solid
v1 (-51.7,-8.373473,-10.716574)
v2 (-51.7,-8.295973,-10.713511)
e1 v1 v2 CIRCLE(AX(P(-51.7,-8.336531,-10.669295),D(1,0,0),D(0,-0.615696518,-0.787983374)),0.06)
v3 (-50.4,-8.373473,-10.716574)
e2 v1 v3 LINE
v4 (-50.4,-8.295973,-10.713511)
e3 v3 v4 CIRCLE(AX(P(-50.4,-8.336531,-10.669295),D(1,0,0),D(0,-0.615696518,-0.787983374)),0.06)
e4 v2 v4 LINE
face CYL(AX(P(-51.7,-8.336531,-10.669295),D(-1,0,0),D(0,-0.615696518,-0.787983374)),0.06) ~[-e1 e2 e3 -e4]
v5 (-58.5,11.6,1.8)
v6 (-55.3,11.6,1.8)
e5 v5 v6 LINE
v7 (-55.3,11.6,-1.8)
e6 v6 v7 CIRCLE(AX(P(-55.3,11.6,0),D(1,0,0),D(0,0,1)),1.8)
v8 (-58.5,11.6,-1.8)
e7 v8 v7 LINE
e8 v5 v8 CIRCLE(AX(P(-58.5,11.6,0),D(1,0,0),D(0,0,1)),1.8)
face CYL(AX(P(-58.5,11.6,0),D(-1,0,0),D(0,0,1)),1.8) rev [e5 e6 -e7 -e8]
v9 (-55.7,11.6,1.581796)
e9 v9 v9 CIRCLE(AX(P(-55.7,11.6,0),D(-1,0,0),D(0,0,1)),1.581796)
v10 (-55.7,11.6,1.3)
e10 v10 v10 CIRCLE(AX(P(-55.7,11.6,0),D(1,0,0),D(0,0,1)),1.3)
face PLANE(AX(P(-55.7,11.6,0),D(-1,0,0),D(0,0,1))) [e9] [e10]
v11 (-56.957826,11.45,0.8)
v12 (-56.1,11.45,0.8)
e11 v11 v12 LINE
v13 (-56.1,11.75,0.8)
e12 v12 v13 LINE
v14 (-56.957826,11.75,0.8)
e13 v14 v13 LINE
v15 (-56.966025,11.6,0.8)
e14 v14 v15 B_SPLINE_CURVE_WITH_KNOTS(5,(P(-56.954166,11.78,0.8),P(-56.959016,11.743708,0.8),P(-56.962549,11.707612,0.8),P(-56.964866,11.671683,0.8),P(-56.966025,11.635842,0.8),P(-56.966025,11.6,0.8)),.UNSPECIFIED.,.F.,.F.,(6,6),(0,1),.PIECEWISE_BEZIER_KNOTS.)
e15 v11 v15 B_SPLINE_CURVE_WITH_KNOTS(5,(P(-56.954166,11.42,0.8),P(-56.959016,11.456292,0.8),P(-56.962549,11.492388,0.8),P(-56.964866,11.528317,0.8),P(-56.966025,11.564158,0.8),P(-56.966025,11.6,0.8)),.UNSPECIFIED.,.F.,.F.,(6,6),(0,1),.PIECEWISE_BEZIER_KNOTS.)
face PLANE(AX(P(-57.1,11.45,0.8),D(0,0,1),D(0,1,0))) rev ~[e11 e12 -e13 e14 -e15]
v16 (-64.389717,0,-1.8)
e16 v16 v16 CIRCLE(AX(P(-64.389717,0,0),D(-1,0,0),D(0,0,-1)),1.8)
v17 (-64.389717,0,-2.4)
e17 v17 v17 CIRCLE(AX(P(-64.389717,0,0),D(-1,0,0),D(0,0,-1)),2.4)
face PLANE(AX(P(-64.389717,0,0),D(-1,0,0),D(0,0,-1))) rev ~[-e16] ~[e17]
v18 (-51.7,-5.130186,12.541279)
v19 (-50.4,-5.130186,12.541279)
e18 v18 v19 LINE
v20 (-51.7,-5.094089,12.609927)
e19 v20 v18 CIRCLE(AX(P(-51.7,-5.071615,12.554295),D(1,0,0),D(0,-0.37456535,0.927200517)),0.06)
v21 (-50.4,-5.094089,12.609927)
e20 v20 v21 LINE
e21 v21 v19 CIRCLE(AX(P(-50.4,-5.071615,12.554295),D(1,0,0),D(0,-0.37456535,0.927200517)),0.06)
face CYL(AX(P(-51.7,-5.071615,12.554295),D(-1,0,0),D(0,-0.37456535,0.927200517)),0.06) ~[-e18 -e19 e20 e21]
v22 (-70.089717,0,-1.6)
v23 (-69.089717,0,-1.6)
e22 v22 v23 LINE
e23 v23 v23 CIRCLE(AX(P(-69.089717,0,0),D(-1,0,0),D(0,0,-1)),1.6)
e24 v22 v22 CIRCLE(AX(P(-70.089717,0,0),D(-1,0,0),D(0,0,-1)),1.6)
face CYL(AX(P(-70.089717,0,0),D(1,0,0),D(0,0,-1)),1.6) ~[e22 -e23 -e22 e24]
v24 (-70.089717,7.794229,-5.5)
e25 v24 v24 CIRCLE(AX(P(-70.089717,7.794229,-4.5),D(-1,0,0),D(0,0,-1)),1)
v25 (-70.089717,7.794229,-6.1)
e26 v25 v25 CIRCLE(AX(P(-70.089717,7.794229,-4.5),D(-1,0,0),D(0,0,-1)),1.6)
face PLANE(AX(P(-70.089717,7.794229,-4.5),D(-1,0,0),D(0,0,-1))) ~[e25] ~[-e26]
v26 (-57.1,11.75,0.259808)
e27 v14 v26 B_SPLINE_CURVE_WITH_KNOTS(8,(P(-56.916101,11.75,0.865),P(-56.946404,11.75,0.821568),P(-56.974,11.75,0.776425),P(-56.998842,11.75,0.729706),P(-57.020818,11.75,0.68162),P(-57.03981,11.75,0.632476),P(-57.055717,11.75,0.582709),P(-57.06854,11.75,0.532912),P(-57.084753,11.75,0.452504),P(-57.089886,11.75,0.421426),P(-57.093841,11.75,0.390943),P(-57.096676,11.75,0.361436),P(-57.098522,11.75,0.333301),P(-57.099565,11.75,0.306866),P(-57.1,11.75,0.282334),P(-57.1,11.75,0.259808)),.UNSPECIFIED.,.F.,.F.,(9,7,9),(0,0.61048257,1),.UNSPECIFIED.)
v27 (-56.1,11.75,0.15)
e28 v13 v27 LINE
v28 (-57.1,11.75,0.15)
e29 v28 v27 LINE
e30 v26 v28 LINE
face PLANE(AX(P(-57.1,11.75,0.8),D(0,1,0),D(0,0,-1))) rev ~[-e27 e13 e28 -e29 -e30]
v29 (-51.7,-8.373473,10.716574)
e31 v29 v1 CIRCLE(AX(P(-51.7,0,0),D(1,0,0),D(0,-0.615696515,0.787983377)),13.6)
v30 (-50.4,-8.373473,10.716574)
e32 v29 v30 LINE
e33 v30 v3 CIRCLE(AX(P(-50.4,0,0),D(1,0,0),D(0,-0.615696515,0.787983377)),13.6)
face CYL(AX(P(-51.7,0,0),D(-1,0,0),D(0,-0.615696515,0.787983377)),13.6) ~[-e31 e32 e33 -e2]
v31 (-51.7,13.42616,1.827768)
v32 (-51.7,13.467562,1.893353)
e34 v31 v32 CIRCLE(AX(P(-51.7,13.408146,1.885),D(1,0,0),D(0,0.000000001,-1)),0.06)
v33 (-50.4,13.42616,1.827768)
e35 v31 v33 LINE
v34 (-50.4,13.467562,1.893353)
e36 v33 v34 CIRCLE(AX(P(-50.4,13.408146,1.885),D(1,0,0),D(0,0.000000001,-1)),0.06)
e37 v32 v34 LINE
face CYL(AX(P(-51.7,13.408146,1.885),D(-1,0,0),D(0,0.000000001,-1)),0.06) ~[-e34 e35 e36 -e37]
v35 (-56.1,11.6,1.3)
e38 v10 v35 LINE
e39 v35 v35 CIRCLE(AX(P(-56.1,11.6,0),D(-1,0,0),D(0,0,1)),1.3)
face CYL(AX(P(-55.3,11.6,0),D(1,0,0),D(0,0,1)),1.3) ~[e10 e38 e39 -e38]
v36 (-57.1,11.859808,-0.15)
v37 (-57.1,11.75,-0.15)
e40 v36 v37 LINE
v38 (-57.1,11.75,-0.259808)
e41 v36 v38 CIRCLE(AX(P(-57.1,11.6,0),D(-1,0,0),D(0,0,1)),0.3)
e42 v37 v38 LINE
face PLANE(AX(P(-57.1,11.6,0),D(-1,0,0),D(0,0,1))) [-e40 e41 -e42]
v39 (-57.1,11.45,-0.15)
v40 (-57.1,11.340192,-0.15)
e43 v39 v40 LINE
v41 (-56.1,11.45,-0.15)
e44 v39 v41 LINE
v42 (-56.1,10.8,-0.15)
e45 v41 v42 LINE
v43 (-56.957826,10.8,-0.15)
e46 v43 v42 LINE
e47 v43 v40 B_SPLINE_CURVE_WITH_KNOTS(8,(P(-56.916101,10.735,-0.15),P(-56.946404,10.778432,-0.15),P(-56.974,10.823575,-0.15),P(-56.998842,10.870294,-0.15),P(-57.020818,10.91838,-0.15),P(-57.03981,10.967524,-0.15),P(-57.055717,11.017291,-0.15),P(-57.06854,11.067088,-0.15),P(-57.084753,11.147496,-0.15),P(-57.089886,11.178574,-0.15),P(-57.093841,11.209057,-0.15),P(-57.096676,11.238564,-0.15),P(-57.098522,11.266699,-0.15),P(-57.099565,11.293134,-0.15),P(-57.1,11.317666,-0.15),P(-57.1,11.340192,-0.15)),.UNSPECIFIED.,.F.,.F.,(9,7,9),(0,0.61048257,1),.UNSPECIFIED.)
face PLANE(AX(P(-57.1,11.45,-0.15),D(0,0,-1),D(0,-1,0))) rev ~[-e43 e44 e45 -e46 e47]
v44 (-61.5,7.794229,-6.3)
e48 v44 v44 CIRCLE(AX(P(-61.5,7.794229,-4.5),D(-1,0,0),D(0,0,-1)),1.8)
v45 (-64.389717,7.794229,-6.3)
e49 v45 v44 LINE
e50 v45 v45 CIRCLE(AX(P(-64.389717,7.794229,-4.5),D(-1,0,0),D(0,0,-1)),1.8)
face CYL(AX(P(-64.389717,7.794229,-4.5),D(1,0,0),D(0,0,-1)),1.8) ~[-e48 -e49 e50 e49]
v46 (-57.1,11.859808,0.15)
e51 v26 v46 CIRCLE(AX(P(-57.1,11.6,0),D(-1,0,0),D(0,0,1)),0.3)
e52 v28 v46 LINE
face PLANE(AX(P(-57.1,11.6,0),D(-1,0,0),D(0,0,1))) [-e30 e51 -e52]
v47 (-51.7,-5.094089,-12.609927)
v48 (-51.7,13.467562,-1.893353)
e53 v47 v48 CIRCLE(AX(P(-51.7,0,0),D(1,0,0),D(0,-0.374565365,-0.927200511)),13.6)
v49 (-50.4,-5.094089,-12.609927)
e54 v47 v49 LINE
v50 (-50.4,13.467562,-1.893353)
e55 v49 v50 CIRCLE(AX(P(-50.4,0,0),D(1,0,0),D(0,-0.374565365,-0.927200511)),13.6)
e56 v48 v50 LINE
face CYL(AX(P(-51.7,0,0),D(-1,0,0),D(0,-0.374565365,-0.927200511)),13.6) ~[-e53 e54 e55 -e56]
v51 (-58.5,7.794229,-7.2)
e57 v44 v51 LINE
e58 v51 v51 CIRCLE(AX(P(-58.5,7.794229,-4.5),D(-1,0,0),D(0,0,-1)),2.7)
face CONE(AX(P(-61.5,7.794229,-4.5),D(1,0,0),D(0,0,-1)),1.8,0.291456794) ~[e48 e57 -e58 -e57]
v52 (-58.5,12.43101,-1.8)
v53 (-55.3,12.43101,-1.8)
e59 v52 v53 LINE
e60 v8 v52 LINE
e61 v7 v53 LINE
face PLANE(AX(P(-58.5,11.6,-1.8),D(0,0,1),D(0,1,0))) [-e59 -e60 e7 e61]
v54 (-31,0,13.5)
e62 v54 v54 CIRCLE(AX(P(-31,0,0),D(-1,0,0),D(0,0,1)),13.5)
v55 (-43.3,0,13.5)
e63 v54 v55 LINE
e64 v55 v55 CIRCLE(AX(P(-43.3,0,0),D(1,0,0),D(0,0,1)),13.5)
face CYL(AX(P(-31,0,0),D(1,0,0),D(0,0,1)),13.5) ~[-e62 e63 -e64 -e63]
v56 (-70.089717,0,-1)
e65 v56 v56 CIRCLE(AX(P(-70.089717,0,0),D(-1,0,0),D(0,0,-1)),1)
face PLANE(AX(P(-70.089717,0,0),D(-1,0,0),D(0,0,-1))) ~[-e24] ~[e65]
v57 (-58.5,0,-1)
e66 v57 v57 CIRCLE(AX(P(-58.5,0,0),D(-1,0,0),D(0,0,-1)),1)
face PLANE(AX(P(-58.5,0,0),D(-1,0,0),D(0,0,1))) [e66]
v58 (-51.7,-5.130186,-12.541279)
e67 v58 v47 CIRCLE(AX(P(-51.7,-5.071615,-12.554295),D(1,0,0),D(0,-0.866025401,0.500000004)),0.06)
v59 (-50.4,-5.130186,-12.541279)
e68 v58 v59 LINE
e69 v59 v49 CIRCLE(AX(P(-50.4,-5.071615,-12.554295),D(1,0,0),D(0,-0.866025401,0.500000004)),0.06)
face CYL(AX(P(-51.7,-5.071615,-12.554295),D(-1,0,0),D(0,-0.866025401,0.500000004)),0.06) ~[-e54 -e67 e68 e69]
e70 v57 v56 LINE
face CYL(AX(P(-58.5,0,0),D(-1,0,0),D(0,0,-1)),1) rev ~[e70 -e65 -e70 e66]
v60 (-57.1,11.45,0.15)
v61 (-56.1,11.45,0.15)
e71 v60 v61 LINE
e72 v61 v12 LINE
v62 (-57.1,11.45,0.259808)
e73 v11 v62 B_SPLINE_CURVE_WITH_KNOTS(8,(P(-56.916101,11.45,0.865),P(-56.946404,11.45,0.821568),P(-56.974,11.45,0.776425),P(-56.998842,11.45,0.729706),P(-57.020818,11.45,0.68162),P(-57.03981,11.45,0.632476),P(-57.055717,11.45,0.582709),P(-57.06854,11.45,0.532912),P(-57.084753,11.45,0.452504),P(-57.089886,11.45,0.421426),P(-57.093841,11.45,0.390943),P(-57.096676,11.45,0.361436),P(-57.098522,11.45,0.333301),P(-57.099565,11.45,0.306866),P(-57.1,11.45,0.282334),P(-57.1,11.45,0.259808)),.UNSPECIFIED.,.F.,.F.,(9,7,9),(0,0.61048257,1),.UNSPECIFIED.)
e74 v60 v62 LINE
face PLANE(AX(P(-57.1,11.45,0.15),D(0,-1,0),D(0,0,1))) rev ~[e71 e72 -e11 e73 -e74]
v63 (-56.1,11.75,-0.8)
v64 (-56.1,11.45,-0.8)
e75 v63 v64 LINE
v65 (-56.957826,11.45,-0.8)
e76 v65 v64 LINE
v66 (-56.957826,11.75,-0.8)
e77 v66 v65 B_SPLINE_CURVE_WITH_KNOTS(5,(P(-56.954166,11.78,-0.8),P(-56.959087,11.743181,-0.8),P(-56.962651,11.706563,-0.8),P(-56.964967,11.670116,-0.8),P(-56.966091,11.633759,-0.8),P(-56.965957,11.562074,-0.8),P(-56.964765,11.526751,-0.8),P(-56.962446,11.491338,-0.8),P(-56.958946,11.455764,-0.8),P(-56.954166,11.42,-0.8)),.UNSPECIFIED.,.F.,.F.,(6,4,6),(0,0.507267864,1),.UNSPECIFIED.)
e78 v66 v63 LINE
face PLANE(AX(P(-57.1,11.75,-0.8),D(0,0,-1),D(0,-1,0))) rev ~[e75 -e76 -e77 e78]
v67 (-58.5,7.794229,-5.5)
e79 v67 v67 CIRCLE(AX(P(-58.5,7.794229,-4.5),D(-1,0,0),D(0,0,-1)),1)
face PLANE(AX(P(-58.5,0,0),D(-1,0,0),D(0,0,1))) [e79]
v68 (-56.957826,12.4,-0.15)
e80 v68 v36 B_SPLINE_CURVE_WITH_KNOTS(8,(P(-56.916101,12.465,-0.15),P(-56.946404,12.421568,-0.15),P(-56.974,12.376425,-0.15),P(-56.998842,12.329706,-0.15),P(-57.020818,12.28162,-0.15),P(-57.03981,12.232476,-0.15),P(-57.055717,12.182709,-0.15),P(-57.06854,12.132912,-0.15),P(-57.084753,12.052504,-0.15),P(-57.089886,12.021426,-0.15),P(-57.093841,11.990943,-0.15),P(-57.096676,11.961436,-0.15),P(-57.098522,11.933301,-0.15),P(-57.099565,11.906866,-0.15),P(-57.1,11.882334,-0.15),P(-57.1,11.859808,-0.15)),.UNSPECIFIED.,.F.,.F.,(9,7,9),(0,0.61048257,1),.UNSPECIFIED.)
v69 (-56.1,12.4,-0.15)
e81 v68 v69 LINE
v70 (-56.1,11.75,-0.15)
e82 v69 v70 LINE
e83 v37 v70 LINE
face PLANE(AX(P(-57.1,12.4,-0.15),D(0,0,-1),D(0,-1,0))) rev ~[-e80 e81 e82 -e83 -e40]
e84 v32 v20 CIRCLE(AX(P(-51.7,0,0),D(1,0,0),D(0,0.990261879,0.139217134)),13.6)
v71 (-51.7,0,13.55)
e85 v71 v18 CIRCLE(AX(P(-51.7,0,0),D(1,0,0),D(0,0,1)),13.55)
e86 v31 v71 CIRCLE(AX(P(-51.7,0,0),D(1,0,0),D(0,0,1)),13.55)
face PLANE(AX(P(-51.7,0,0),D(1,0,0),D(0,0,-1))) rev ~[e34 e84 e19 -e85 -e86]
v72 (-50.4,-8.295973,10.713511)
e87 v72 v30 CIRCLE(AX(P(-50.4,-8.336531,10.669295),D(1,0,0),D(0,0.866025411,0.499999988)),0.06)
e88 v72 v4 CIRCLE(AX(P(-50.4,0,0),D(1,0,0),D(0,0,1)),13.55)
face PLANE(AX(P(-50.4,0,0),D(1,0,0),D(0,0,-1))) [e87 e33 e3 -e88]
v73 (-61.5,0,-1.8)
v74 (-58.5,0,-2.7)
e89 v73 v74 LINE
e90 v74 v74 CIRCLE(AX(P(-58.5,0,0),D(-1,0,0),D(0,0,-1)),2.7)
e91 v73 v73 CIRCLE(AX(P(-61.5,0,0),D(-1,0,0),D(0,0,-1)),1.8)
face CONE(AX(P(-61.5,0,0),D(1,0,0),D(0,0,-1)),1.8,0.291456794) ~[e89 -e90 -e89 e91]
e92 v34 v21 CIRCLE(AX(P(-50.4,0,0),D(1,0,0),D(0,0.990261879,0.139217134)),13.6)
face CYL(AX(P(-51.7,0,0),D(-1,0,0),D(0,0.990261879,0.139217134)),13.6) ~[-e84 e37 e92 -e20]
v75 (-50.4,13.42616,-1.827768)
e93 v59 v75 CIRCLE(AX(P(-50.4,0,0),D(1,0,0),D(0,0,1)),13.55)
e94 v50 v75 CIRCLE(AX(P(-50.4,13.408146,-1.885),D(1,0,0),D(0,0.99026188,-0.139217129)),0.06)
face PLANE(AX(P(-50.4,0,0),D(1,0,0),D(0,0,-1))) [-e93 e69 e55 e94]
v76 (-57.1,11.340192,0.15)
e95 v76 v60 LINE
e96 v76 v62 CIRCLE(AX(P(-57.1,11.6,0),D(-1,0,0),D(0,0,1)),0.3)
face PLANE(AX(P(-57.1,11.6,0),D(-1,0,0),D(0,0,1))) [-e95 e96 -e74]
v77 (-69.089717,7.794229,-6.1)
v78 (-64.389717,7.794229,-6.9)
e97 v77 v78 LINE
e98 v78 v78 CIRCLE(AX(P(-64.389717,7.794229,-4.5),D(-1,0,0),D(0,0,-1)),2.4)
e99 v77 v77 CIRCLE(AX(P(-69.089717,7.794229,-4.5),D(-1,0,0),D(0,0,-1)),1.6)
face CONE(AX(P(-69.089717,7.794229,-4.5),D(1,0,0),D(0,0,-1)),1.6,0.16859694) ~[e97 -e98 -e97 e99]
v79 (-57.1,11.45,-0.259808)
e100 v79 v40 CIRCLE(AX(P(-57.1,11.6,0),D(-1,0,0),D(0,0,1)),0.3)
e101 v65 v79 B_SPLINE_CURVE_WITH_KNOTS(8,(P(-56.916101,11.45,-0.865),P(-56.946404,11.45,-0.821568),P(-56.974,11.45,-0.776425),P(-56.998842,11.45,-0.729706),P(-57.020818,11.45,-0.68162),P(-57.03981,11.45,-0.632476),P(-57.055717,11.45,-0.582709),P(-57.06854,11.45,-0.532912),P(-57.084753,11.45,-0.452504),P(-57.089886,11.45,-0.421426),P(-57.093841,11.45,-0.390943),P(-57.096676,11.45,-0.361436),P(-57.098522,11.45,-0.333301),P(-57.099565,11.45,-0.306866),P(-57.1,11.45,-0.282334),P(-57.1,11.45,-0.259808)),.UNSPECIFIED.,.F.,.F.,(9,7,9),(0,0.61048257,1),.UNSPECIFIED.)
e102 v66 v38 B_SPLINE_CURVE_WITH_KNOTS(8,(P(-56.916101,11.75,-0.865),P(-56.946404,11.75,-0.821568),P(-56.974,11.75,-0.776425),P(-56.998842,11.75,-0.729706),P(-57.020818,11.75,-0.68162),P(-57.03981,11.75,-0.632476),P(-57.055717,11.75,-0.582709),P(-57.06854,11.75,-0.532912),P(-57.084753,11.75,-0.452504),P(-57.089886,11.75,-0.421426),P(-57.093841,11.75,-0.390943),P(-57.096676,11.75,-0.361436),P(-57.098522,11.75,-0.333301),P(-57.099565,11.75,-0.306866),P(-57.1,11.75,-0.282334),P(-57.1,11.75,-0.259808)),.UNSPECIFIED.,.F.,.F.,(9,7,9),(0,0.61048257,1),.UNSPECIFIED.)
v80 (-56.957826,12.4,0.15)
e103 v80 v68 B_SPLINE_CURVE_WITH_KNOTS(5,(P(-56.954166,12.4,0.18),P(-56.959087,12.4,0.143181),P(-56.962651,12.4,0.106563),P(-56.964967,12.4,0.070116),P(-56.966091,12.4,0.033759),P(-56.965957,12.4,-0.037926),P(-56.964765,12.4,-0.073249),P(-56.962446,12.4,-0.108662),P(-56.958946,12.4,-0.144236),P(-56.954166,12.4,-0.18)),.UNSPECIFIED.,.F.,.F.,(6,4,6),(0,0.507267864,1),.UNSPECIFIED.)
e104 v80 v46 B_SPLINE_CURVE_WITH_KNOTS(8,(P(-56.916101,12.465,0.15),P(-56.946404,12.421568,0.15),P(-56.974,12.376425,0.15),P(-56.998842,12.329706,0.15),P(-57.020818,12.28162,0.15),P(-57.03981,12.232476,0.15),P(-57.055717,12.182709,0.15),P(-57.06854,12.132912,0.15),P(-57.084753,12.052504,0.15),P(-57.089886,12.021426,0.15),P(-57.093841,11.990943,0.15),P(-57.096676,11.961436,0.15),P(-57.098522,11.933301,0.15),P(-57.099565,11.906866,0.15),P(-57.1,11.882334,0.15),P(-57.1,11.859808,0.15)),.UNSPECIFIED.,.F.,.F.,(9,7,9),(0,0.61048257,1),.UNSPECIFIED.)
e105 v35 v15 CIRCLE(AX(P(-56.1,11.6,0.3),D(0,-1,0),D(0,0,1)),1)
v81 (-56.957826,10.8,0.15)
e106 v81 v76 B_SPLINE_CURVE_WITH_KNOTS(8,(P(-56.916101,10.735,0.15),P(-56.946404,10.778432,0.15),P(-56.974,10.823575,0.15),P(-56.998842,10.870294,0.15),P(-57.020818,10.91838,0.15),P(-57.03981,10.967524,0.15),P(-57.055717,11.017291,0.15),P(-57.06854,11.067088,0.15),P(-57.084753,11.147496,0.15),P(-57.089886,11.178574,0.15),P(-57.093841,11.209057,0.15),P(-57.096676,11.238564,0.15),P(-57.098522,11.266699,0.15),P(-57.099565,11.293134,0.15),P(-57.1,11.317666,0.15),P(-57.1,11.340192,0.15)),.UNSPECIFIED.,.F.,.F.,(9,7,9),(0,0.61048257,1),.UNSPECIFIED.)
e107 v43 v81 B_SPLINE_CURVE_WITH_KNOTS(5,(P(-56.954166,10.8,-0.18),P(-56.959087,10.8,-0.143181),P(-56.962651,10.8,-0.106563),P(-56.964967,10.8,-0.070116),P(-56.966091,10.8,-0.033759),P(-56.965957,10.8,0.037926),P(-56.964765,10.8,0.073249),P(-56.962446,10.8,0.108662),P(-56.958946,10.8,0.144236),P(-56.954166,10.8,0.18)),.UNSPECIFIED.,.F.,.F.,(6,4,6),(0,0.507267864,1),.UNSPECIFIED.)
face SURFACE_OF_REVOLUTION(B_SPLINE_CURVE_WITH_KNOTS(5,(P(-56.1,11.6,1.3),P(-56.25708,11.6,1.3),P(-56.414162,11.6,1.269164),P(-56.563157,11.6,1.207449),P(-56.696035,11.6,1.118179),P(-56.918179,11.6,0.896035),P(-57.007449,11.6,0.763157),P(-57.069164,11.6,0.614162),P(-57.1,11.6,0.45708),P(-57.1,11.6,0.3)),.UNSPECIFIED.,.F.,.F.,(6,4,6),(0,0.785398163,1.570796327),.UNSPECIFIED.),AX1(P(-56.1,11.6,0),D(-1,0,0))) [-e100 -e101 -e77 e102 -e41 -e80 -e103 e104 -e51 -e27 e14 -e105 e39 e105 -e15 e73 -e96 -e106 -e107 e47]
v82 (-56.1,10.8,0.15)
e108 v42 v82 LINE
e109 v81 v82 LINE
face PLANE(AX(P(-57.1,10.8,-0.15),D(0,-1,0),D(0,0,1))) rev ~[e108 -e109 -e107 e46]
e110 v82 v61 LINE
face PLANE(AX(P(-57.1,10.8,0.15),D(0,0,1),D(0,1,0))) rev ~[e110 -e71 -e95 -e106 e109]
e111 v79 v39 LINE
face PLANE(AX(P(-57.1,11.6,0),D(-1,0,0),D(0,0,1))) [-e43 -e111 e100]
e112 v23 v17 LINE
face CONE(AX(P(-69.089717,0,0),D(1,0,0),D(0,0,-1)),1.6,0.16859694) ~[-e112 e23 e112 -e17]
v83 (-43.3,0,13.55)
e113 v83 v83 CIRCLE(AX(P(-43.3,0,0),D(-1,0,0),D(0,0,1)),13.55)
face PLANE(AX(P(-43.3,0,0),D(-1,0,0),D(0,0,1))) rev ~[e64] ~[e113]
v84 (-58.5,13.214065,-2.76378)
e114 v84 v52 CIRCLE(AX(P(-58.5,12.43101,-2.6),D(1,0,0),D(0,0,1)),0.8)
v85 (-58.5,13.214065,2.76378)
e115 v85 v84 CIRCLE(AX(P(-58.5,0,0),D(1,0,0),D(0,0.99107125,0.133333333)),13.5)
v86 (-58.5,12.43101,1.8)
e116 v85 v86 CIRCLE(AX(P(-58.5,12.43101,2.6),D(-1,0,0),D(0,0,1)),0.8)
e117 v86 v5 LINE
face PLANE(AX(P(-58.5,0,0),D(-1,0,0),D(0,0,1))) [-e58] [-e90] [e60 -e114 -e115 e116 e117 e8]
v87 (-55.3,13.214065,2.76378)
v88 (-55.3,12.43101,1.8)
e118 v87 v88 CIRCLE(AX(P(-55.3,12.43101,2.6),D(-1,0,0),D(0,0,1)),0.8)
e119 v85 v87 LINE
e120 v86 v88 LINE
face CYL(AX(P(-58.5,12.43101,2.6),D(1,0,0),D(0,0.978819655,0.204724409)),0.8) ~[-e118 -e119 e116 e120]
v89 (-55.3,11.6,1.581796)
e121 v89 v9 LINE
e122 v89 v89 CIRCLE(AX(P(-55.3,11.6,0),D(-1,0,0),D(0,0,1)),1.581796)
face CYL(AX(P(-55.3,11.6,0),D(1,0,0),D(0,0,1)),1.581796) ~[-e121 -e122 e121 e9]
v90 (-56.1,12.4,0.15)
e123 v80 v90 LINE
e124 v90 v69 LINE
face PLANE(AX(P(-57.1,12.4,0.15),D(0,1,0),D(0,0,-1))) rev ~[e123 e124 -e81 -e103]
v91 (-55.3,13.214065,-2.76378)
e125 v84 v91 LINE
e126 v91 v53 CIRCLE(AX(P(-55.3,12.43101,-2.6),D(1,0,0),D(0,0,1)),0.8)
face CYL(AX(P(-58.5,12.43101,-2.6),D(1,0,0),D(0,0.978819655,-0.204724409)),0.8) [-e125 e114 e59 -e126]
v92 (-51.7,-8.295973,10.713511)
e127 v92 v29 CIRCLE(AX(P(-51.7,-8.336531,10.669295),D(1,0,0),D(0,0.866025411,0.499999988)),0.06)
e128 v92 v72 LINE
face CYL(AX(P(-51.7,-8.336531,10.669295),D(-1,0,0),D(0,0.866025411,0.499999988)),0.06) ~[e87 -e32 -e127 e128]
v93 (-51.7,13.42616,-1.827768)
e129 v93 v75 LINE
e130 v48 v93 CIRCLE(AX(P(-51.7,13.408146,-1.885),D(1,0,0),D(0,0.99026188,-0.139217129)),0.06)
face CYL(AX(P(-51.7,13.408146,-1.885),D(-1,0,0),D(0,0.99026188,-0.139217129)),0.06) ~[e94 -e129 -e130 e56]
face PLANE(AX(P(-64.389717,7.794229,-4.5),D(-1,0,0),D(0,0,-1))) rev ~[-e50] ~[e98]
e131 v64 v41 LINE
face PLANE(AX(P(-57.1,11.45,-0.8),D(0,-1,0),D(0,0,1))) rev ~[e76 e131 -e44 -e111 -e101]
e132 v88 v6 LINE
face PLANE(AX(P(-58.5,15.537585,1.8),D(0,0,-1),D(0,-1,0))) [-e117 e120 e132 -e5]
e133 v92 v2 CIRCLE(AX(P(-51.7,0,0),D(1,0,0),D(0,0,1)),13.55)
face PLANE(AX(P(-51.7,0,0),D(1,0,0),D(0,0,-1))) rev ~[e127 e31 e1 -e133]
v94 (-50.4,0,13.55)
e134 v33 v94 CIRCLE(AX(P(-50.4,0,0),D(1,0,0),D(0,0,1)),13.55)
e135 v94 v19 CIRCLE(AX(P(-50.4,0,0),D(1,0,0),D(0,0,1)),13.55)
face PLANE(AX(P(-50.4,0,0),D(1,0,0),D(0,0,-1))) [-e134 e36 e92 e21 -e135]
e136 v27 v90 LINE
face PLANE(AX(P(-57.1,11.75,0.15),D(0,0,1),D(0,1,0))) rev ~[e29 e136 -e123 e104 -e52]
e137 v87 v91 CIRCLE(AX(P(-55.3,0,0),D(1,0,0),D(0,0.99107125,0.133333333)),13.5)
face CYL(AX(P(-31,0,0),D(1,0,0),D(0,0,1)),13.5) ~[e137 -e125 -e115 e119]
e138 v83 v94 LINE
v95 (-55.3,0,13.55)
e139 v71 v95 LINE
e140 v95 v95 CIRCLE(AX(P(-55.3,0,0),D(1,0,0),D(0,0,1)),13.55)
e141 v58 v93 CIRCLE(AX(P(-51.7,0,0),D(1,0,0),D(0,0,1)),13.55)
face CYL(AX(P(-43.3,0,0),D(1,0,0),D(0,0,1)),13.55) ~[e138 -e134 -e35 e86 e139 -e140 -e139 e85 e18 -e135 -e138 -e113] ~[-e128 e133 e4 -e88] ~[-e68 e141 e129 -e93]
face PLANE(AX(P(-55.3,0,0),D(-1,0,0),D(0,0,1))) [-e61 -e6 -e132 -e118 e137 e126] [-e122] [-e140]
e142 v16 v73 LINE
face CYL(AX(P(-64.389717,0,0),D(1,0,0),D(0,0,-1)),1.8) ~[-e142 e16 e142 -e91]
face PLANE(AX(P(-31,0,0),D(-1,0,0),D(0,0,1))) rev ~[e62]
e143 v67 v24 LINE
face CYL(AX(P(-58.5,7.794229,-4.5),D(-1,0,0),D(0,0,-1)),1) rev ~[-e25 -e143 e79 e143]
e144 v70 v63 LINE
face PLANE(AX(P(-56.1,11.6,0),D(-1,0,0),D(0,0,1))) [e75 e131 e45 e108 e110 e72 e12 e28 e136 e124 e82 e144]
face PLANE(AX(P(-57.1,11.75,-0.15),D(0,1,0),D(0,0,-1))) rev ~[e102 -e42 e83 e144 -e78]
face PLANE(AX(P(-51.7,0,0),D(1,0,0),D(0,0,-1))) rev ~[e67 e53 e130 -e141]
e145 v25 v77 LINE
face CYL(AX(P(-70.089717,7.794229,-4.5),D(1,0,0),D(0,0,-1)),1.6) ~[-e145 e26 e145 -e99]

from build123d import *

# Parameters (mm, degrees)
PUMP_OD_SKETCH_R          = 13.5
PUMP_OD_EXTRUDE_DEPTH     = 27.5
PUMP_START                = 12.3
PUMP_MIDDLE_SKETCH_R      = 13.55
PUMP_MIDDLE_EXTRUDE_DEPTH = 12
DIAPHRAGM_START           = -3.6
DIAPHRAGM_EXTRUDE_DEPTH   = 1.3
SCREW_POCKET_CUT_DEPTH    = 3.2
SCREW_POCKET_FILLET_R     = 0.8
SCEW_HEAD_SKETCH_R        = 1.3
SCREW_HEAD_EXTRUDE_DEPTH  = 1.8
SCREW_HEAD_FILLET_R       = 1
SCREW_DRIVE_CUT_DEPTH     = 1
WASHER_SKETCH_R           = 1.581796131
WASHER_EXTRUDE_DEPTH      = 0.4
NOZZLE_LPATTERN_COUNT     = 2
NOZZLE_LPATTERN_PITCH     = 9


with BuildPart() as part:
    # Pump OD Sketch → Pump OD Extrude (new body)
    with BuildSketch(Plane.ZY.offset(31)):
        Circle(PUMP_OD_SKETCH_R)
    extrude(amount=PUMP_OD_EXTRUDE_DEPTH)

    # Pump Middle Sketch → Pump Middle Extrude (add)
    with BuildSketch(Plane.ZY.offset(31).offset(PUMP_START)):
        Circle(PUMP_MIDDLE_SKETCH_R)
    extrude(amount=PUMP_MIDDLE_EXTRUDE_DEPTH)

    # Diaphragm Sketch → Diaphragm Extrude (add)
    with BuildSketch(Plane.ZY.offset(55.3).offset(DIAPHRAGM_START)):
        with BuildLine():
            Line((-1.825, 12.291819434), (1.825, 12.291819434))
            Line((1.825, 12.291819434), (1.825, 13.408145845))
            ThreePointArc((1.825, 13.408145845), (1.845637465, 13.453429295), (1.893353028, 13.467561558))
            ThreePointArc((1.893353028, 13.467561558), (11.777945491, 6.8), (12.60992695, -5.094088958))
            ThreePointArc((12.60992695, -5.094088958), (12.57383027, -5.128345717), (12.524294919, -5.123576561))
            Line((12.524294919, -5.123576561), (11.557527888, -4.565413355))
            Line((11.557527888, -4.565413355), (9.732527888, -7.726406079))
            Line((9.732527888, -7.726406079), (10.699294919, -8.284569284))
            ThreePointArc((10.699294919, -8.284569284), (10.728192805, -8.325083578), (10.716573922, -8.373472599))
            ThreePointArc((10.716573922, -8.373472599), (0, -13.6), (-10.716573922, -8.373472599))
            ThreePointArc((-10.716573922, -8.373472599), (-10.728192805, -8.325083578), (-10.699294919, -8.284569284))
            Line((-10.699294919, -8.284569284), (-9.732527888, -7.726406079))
            Line((-9.732527888, -7.726406079), (-11.557527888, -4.565413355))
            Line((-11.557527888, -4.565413355), (-12.524294919, -5.123576561))
            ThreePointArc((-12.524294919, -5.123576561), (-12.57383027, -5.128345717), (-12.60992695, -5.094088958))
            ThreePointArc((-12.60992695, -5.094088958), (-11.777945491, 6.8), (-1.893353028, 13.467561558))
            ThreePointArc((-1.893353028, 13.467561558), (-1.845637465, 13.453429295), (-1.825, 13.408145845))
            Line((-1.825, 13.408145845), (-1.825, 12.291819434))
        make_face()
    extrude(amount=-DIAPHRAGM_EXTRUDE_DEPTH)

    # Screw Pocket Sketch → Screw Pocket Cut (cut)
    with BuildSketch(Plane.ZY.offset(58.5)):
        with BuildLine():
            Line((-1.8, 11.6), (-1.8, 15.537585437))
            Line((-1.8, 15.537585437), (1.8, 15.537585437))
            Line((1.8, 15.537585437), (1.8, 11.6))
            ThreePointArc((1.8, 11.6), (0, 9.8), (-1.8, 11.6))
        make_face()
    extrude(amount=-SCREW_POCKET_CUT_DEPTH, mode=Mode.SUBTRACT)

    # Screw Pocket Fillet
    screw_pocket_fillet_edges = [part.edges().sort_by_distance(p)[0] for p in [
        (-56.9, 13.379461873, -1.8),
        (-56.9, 13.379461873, 1.8),
    ]]
    fillet(screw_pocket_fillet_edges, radius=SCREW_POCKET_FILLET_R)

    # Scew Head Sketch → Screw Head Extrude (add)
    with BuildSketch(Plane.ZY.offset(55.3)):
        with Locations((0, 11.6)):
            Circle(SCEW_HEAD_SKETCH_R)
    extrude(amount=SCREW_HEAD_EXTRUDE_DEPTH)

    # Screw Head Fillet
    screw_head_fillet_edges = [part.edges().sort_by_distance(p)[0] for p in [
        (-57.1, 11.6, -1.3),
    ]]
    fillet(screw_head_fillet_edges, radius=SCREW_HEAD_FILLET_R)

    # Sketch10 → Screw Drive Cut (cut)
    with BuildSketch(Plane.ZY.offset(57.1)):
        Polygon((0.15, 11.75), (0.15, 12.4), (-0.15, 12.4), (-0.15, 11.75), (-0.8, 11.75), (-0.8, 11.45), (-0.15, 11.45), (-0.15, 10.8), (0.15, 10.8), (0.15, 11.45), (0.8, 11.45), (0.8, 11.75), align=None)
    extrude(amount=-SCREW_DRIVE_CUT_DEPTH, mode=Mode.SUBTRACT)

    # Washer Sketch → Washer Extrude (add)
    with BuildSketch(Plane.ZY.offset(55.3)):
        with Locations((0, 11.6)):
            Circle(WASHER_SKETCH_R)
    extrude(amount=WASHER_EXTRUDE_DEPTH)

    # Center Nozzle Sketch → Center Nozzle Revolve (revolve)
    with BuildSketch(Plane.XY, mode=Mode.PRIVATE) as center_nozzle_revolve_sk:
        Polygon((-70.089716671, 1.6), (-69.089716671, 1.6), (-64.389716671, 2.4), (-64.389716671, 1.8), (-61.5, 1.8), (-58.5, 2.7), (-58.5, 1), (-70.089716671, 1), align=None)
    center_nozzle_revolve = revolve(center_nozzle_revolve_sk.sketch.rotate(Axis((0, 0, 0), (-1, 0, 0)), 90), axis=Axis((0, 0, 0), (-1, 0, 0)))

    # Nozzle LPattern: Center Nozzle Revolve ×2
    with Locations(*[Vector(0, 0.8660254037844379, -0.5000000000000012) * (i * NOZZLE_LPATTERN_PITCH) for i in range(1, NOZZLE_LPATTERN_COUNT)]):
        add(center_nozzle_revolve)


solid = part.part
